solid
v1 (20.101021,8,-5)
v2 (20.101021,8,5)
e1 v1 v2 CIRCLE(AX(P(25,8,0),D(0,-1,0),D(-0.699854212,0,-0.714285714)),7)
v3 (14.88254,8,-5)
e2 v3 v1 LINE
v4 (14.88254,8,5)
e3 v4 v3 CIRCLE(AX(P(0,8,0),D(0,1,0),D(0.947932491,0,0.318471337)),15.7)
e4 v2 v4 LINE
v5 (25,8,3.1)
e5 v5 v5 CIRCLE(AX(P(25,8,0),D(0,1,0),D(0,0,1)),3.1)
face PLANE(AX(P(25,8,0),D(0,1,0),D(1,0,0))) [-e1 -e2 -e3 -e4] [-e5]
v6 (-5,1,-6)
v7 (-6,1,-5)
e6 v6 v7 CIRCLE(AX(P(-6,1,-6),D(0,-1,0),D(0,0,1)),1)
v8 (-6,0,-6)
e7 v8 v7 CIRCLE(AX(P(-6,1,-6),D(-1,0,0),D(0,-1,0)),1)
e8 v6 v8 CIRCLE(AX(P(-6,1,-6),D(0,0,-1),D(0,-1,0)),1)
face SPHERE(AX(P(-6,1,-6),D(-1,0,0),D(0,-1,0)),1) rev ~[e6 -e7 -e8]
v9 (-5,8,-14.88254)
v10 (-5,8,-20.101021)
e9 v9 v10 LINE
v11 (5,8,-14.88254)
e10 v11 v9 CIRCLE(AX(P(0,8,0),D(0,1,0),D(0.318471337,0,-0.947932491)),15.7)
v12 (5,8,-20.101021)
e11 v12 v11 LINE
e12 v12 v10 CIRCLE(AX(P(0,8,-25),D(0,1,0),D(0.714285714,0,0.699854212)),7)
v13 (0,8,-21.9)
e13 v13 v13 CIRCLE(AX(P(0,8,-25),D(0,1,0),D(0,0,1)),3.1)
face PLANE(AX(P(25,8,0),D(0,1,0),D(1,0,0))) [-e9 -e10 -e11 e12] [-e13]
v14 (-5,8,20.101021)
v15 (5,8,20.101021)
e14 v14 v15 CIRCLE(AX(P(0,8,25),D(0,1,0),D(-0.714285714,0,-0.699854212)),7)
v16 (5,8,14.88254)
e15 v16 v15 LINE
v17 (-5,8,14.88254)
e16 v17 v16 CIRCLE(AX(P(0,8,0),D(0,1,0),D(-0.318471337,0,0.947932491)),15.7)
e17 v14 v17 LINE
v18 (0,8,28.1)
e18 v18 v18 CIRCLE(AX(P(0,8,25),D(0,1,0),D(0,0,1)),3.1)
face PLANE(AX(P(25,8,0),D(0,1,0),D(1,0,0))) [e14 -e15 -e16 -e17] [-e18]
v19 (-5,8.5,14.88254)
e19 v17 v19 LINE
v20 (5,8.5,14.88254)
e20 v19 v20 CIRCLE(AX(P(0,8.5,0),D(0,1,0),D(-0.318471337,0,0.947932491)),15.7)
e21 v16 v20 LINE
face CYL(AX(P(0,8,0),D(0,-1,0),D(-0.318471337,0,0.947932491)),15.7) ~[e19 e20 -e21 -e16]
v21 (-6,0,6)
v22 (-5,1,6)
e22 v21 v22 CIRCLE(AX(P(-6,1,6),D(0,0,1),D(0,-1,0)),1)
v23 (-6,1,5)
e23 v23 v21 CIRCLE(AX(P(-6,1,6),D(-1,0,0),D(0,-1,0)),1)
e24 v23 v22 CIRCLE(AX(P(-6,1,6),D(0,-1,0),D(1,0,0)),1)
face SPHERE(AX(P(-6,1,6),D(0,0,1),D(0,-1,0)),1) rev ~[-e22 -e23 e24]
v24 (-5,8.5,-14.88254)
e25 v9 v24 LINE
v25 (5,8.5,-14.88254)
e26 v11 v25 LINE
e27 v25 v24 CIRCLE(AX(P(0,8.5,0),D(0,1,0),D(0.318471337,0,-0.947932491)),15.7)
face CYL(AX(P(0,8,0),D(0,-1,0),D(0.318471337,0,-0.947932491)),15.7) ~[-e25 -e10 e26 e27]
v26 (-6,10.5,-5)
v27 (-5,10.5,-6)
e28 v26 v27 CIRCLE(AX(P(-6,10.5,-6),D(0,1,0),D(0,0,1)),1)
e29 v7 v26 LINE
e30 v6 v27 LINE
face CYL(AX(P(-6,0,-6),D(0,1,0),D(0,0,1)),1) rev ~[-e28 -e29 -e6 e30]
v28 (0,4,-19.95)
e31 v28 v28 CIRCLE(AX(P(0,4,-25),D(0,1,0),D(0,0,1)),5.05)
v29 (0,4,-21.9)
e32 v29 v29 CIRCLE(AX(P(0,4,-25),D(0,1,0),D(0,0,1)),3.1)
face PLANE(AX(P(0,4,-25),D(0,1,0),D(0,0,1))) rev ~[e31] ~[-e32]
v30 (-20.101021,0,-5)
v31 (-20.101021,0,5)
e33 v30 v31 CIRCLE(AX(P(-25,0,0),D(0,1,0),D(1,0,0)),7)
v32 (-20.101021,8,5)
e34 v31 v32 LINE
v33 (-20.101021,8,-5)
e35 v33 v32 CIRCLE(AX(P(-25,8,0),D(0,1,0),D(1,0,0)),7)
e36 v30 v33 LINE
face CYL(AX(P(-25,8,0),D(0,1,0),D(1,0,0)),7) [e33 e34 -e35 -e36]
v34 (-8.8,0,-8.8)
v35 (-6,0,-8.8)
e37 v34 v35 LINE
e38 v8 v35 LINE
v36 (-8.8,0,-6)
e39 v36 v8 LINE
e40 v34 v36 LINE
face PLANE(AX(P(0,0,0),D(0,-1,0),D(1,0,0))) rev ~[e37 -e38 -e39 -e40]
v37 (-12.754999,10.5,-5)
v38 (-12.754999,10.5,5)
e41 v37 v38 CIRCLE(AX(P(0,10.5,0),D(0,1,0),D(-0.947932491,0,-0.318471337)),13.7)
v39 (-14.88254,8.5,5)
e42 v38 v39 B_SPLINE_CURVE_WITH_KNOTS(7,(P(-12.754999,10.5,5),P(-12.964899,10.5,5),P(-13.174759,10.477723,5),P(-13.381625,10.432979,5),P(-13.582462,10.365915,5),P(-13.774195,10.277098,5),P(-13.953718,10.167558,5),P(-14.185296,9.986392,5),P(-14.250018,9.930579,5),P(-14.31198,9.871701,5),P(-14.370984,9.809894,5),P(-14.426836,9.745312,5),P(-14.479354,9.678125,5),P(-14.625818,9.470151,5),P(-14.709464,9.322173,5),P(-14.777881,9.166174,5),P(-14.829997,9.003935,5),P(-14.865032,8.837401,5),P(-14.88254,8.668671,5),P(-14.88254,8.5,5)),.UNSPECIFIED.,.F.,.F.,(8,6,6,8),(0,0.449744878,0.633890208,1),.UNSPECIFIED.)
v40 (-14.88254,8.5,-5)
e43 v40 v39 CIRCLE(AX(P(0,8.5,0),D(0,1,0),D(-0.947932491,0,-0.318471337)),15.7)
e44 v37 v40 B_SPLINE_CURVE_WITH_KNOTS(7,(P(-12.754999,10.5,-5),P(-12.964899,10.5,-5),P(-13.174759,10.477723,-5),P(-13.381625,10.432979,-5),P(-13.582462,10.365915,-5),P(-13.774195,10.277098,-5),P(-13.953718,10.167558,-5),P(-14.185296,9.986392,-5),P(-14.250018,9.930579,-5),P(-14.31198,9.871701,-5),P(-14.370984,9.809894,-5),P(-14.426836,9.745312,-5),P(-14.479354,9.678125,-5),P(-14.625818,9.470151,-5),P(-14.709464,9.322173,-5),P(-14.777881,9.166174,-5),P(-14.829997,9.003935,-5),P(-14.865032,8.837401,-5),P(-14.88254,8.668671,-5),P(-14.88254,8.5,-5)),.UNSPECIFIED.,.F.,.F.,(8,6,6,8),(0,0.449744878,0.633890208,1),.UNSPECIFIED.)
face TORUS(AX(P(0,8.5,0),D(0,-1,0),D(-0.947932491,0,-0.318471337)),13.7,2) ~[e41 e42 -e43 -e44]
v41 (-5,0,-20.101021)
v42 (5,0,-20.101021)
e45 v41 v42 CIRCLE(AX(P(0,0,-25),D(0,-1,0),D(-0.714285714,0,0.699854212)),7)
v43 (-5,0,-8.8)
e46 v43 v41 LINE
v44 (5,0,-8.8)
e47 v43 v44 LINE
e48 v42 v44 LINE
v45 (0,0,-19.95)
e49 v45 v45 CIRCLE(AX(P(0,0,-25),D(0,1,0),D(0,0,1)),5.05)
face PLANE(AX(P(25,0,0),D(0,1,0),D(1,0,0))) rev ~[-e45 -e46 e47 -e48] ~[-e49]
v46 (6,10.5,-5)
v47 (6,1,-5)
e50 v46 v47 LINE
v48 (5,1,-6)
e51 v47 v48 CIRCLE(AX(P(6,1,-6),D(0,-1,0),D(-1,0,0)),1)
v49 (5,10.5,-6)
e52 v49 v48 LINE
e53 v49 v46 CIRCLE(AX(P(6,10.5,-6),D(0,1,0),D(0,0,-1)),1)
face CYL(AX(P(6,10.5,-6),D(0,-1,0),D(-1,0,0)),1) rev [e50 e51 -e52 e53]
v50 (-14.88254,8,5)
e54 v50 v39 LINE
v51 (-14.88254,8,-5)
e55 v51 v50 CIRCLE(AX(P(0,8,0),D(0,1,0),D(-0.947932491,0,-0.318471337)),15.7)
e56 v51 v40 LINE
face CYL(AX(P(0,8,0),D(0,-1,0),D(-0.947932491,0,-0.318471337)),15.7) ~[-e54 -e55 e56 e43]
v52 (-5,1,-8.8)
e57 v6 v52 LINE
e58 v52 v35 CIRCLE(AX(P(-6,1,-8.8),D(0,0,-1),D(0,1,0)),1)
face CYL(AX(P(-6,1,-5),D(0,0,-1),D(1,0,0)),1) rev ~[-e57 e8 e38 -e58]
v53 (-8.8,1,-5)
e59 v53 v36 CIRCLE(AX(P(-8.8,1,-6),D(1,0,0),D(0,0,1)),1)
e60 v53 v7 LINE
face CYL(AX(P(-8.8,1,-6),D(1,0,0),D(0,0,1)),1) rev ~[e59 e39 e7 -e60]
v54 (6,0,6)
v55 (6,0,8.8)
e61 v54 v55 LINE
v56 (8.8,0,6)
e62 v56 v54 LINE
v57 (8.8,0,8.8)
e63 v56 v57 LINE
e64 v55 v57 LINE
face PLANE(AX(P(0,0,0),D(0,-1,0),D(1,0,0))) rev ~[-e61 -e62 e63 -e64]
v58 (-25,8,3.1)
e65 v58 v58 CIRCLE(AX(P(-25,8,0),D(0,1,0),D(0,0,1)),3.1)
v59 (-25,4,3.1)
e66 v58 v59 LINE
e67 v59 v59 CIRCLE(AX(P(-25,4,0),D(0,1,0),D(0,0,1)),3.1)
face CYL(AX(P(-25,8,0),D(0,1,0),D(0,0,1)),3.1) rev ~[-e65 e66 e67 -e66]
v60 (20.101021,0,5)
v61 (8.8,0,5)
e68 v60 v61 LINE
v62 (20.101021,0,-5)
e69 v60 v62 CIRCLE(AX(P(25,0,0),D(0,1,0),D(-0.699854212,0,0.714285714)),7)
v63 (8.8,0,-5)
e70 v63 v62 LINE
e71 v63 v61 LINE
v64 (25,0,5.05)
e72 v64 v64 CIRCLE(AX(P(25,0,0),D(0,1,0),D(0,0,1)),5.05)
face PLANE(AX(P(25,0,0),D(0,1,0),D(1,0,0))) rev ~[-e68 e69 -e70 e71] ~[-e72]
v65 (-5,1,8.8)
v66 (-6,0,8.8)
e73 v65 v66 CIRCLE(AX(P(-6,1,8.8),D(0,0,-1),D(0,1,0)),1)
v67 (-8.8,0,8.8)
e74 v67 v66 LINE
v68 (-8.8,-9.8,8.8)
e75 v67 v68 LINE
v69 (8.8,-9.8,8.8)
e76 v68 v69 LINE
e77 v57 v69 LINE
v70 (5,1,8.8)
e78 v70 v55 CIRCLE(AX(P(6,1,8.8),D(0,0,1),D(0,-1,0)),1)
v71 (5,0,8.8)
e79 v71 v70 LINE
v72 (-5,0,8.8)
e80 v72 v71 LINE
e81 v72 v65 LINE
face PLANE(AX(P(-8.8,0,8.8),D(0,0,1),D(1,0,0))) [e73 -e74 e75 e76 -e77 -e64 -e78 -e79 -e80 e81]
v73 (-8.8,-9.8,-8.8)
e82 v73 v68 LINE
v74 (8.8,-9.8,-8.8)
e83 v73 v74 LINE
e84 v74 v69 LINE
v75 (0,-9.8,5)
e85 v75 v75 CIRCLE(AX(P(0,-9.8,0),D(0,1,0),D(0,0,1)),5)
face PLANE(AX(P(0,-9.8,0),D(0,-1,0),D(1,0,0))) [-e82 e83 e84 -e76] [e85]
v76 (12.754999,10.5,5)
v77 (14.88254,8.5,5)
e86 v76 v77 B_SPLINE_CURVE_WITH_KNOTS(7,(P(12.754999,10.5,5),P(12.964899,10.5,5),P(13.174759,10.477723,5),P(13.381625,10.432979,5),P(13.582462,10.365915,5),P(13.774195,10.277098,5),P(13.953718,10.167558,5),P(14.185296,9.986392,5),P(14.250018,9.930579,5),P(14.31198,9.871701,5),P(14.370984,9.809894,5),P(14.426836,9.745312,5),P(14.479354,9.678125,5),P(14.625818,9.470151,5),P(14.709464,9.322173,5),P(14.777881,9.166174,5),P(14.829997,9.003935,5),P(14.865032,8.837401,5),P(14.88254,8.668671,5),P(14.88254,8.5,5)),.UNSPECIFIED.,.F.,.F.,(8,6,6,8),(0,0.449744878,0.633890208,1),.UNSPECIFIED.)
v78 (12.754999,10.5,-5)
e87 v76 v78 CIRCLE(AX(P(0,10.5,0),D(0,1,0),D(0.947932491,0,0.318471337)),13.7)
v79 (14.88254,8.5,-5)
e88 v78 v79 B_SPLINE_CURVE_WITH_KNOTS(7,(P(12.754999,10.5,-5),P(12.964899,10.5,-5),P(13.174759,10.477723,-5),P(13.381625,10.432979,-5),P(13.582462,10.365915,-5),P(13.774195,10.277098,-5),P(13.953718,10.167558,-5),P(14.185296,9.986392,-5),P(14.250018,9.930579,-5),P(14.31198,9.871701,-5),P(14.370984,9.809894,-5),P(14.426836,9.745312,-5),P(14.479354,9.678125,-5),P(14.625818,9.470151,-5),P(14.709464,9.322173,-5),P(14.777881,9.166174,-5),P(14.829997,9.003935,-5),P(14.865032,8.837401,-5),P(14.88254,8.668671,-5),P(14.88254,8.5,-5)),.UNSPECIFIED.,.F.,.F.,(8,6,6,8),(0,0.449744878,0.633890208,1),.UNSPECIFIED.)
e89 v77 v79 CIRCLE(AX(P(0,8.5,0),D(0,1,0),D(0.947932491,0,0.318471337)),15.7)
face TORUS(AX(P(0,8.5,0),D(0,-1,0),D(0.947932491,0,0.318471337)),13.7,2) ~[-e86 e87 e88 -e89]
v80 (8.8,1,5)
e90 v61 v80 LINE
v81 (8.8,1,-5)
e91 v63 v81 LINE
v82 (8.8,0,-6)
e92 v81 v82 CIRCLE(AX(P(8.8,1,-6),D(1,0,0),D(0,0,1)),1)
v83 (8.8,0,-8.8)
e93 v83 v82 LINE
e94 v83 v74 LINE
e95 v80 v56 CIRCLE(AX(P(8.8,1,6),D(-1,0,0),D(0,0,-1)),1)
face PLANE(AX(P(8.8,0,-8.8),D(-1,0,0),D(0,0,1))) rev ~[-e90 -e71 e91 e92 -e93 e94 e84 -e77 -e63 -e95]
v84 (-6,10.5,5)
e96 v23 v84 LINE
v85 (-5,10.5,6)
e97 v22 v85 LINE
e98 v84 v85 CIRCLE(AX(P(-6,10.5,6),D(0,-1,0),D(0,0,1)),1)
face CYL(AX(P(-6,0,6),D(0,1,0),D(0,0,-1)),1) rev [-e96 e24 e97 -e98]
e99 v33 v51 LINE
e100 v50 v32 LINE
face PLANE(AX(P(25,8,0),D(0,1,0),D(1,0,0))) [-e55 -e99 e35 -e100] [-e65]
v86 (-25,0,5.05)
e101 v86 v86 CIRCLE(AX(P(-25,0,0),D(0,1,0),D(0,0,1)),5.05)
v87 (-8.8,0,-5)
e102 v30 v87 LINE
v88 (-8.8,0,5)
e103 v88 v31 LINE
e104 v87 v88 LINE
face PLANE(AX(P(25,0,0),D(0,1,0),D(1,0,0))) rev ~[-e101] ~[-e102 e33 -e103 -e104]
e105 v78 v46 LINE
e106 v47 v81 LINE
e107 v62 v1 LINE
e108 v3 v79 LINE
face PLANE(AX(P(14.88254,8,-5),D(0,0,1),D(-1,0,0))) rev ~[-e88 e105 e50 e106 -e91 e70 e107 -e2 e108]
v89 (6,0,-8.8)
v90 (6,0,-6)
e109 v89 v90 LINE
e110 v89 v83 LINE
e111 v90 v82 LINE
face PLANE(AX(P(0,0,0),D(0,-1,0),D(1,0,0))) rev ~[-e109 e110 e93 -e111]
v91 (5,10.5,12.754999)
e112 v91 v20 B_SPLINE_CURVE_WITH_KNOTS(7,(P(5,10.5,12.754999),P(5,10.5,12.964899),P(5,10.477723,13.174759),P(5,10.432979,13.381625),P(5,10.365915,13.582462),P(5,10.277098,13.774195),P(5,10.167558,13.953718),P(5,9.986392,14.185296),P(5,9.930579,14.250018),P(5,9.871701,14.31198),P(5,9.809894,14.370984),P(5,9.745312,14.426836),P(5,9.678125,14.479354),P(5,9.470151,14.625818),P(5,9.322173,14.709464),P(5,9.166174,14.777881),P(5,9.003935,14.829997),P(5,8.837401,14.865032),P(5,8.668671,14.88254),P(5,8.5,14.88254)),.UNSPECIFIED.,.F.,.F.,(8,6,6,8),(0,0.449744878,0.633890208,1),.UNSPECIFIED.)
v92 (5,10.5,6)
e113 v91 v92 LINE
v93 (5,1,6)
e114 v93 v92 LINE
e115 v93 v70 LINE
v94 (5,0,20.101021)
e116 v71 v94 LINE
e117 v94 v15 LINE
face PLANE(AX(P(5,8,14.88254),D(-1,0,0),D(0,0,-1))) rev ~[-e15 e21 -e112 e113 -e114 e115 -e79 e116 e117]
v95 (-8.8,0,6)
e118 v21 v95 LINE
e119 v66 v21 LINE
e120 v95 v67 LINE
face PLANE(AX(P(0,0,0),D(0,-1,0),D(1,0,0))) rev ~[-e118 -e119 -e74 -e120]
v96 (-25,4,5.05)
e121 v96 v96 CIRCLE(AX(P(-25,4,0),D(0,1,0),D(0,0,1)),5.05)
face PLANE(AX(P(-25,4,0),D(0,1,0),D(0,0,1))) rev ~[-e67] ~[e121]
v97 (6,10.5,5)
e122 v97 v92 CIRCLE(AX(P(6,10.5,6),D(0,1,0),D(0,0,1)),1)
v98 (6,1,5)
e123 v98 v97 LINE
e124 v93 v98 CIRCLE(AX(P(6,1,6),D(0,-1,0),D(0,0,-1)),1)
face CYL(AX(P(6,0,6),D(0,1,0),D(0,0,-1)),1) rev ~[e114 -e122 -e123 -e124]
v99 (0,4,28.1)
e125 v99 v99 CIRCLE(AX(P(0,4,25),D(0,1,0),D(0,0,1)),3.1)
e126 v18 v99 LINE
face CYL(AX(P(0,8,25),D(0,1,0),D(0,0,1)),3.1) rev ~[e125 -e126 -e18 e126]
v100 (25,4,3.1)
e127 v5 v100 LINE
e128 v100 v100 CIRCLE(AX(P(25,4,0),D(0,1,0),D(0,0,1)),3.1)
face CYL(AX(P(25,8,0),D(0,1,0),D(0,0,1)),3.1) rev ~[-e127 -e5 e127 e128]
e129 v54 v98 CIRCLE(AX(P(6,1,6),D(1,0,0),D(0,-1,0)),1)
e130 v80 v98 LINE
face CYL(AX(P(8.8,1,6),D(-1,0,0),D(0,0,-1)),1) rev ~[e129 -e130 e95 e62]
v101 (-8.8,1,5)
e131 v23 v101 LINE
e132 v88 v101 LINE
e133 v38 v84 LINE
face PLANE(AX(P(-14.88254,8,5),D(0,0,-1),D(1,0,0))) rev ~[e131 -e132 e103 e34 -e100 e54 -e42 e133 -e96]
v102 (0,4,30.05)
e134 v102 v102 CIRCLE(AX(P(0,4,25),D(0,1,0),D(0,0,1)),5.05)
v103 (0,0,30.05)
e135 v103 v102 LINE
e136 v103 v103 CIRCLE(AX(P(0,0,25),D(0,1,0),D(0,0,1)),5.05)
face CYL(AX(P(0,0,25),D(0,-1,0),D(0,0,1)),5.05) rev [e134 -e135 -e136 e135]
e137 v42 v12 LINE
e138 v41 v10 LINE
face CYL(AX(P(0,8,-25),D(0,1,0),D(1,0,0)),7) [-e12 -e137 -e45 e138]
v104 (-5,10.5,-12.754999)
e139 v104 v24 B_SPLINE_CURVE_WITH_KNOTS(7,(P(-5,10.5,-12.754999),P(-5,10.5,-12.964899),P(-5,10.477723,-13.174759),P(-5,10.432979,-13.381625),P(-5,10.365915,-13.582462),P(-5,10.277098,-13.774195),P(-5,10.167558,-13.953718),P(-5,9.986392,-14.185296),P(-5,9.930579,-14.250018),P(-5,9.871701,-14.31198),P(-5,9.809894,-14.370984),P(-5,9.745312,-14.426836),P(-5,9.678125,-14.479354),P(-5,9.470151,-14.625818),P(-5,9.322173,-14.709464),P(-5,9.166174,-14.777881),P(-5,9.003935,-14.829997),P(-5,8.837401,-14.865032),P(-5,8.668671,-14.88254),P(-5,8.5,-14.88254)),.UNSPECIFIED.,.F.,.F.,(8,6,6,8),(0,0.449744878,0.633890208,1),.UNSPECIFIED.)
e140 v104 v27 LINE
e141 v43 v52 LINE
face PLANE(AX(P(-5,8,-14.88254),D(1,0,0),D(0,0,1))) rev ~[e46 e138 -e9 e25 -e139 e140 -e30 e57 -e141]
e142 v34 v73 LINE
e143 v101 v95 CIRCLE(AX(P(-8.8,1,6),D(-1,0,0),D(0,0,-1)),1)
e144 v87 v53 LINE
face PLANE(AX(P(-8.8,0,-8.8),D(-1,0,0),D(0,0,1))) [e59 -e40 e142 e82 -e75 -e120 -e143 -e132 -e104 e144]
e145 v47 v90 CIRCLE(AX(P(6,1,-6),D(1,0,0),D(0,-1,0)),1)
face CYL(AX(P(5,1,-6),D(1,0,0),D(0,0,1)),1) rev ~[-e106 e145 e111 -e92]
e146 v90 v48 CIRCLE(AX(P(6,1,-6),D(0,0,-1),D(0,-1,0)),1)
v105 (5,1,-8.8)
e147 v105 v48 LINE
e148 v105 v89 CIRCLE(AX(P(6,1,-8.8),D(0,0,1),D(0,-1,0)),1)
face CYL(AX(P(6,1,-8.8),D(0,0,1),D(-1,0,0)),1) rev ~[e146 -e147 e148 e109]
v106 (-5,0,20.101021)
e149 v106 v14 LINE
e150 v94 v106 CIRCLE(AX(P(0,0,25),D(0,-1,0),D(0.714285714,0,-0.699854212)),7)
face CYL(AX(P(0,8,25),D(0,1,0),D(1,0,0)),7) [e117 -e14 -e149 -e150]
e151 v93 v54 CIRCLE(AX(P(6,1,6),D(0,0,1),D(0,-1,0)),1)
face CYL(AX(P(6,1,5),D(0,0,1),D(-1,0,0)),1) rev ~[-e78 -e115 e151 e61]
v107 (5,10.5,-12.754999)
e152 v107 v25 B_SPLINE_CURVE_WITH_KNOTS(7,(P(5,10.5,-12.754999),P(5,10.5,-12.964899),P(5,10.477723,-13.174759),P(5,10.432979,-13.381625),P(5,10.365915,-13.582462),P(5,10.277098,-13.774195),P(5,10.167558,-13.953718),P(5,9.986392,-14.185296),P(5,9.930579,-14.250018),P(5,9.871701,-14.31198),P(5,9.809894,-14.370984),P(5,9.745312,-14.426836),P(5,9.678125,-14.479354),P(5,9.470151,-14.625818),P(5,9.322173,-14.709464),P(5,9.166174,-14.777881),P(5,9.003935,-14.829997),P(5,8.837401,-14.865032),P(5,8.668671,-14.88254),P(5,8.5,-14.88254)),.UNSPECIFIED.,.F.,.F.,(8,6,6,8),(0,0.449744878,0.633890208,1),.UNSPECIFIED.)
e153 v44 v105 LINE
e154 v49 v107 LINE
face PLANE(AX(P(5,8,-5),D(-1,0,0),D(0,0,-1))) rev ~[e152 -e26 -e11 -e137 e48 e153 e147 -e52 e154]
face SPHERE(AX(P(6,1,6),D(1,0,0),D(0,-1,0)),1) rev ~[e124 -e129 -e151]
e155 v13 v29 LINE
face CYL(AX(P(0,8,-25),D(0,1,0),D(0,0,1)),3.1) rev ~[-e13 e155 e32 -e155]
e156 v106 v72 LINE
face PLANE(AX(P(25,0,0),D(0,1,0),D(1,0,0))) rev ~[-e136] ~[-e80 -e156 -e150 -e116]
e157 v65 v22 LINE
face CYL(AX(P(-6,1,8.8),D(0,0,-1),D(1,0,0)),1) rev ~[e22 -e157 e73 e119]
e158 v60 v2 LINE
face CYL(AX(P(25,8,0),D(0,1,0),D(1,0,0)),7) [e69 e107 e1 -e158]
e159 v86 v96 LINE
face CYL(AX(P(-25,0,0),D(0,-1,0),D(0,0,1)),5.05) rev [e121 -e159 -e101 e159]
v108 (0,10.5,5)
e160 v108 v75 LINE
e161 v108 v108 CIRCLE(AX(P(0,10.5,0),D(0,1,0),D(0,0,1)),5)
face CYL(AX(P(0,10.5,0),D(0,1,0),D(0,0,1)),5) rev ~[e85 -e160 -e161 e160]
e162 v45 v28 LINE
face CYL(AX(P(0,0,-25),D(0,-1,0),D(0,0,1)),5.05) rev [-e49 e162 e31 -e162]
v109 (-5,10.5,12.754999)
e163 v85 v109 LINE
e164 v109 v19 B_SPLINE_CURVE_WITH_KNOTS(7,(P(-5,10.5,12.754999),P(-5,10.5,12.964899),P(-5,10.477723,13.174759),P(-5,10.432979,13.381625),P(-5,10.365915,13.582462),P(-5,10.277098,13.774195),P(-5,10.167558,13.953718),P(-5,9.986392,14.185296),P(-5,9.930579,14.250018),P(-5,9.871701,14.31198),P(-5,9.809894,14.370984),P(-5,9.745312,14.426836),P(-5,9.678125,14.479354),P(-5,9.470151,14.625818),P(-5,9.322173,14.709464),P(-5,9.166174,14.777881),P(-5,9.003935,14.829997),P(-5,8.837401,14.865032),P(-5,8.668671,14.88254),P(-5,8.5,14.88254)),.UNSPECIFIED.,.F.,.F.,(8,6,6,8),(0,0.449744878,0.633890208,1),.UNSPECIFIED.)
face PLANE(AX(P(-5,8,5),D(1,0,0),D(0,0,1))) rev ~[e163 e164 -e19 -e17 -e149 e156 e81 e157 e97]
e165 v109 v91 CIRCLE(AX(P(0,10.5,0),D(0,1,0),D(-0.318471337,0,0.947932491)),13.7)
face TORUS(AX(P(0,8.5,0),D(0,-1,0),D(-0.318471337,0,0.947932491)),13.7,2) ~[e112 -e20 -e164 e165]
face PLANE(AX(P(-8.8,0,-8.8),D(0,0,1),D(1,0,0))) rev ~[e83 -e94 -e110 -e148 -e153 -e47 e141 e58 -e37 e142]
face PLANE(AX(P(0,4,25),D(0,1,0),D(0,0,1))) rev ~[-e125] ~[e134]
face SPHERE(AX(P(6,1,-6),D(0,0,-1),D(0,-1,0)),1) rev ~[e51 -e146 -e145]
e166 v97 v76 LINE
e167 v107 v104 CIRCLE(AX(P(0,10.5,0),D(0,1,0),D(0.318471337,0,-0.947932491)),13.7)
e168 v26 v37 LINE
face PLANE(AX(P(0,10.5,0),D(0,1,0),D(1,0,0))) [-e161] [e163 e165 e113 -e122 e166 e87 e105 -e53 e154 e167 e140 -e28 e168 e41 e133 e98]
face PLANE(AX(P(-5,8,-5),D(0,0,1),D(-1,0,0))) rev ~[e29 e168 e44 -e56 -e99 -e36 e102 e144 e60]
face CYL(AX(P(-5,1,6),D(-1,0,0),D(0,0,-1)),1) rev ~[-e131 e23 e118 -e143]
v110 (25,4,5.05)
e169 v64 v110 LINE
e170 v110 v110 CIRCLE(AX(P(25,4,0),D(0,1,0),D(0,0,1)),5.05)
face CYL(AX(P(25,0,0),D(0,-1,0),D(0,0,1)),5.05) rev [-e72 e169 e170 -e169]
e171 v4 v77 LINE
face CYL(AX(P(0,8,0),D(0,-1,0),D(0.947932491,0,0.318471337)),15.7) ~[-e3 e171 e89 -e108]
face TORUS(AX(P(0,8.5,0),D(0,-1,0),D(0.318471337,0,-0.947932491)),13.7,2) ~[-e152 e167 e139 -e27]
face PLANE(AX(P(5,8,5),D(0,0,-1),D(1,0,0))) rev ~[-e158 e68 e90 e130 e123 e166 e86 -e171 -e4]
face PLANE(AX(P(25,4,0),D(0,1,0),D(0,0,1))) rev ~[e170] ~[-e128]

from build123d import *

# Parameters (mm, degrees)
BOSS_EXTRUDE1_DEPTH = 8
SKETCH2_R           = 7
BOSS_EXTRUDE2_DEPTH = 8
SKETCH3_R           = 3.1
CUT_EXTRUDE1_DEPTH  = 8
SKETCH4_R           = 5.05
CUT_EXTRUDE4_DEPTH  = 4
BOSS_EXTRUDE3_DEPTH = 2.5
SKETCH6_W           = 17.6
SKETCH6_H           = 17.6
BOSS_EXTRUDE4_DEPTH = 9.8
SKETCH7_R           = 5
CUT_EXTRUDE5_DEPTH  = 20.3
FILLET1_R           = 2
FILLET3_R           = 1


with BuildPart() as part:
    # Sketch1 → Boss-Extrude1 (new body)
    with BuildSketch(Plane(origin=(0, 0, 0), x_dir=(1, 0, 0), z_dir=(0, 1, 0))):
        Polygon((-5, 5), (-5, 25), (5, 25), (5, 5), (25, 5), (25, -5), (5, -5), (5, -25), (-5, -25), (-5, -5), (-25, -5), (-25, 5), align=None)
    extrude(amount=BOSS_EXTRUDE1_DEPTH)

    # Sketch2 → Boss-Extrude2 (add)
    with BuildSketch(Plane(origin=(0, 8, 0), x_dir=(1, 0, 0), z_dir=(0, 1, 0))):
        with Locations((25, 0)):
            Circle(SKETCH2_R)
        with Locations((0, -25)):
            Circle(SKETCH2_R)
        with Locations((-25, 0)):
            Circle(SKETCH2_R)
        with Locations((0, 25)):
            Circle(SKETCH2_R)
    extrude(amount=-BOSS_EXTRUDE2_DEPTH)

    # Sketch3 → Cut-Extrude1 (cut)
    with BuildSketch(Plane(origin=(0, 8, 0), x_dir=(1, 0, 0), z_dir=(0, 1, 0))):
        with Locations(Location((25, 0, 0), (0, 0, 270))):
            Circle(SKETCH3_R)
        with Locations(Location((0, -25, 0), (0, 0, 270))):
            Circle(SKETCH3_R)
        with Locations(Location((-25, 0, 0), (0, 0, 270))):
            Circle(SKETCH3_R)
        with Locations(Location((0, 25, 0), (0, 0, 270))):
            Circle(SKETCH3_R)
    extrude(amount=-CUT_EXTRUDE1_DEPTH, mode=Mode.SUBTRACT)

    # Sketch4 → Cut-Extrude4 (cut)
    with BuildSketch(Plane(origin=(0, 0, 0), x_dir=(1, 0, 0), z_dir=(0, 1, 0))):
        with Locations(Location((25, 0, 0), (0, 0, 270))):
            Circle(SKETCH4_R)
        with Locations(Location((0, -25, 0), (0, 0, 270))):
            Circle(SKETCH4_R)
        with Locations(Location((-25, 0, 0), (0, 0, 270))):
            Circle(SKETCH4_R)
        with Locations(Location((0, 25, 0), (0, 0, 270))):
            Circle(SKETCH4_R)
    extrude(amount=CUT_EXTRUDE4_DEPTH, mode=Mode.SUBTRACT)

    # Sketch5 → Boss-Extrude3 (add)
    with BuildSketch(Plane(origin=(0, 8, 0), x_dir=(1, 0, 0), z_dir=(0, 1, 0))):
        with BuildLine():
            Line((5, 5), (5, 14.882540106))
            ThreePointArc((5, 14.882540106), (0, 15.7), (-5, 14.882540106))
            Line((-5, 14.882540106), (-5, 5))
            Line((-5, 5), (-14.882540106, 5))
            ThreePointArc((-14.882540106, 5), (-15.7, 0), (-14.882540106, -5))
            Line((-14.882540106, -5), (-5, -5))
            Line((-5, -5), (-5, -14.882540106))
            ThreePointArc((-5, -14.882540106), (0, -15.7), (5, -14.882540106))
            Line((5, -14.882540106), (5, -5))
            Line((5, -5), (14.882540106, -5))
            ThreePointArc((14.882540106, -5), (15.7, 0), (14.882540106, 5))
            Line((14.882540106, 5), (5, 5))
        make_face()
    extrude(amount=BOSS_EXTRUDE3_DEPTH)

    # Sketch6 → Boss-Extrude4 (add)
    with BuildSketch(Plane.XZ):
        Rectangle(SKETCH6_W, SKETCH6_H)
    extrude(amount=BOSS_EXTRUDE4_DEPTH)

    # Sketch7 → Cut-Extrude5 (cut)
    with BuildSketch(Plane(origin=(0, 10.5, 0), x_dir=(1, 0, 0), z_dir=(0, 1, 0))):
        with Locations(Location((0, 0, 0), (0, 0, 270))):
            Circle(SKETCH7_R)
    extrude(amount=-CUT_EXTRUDE5_DEPTH, mode=Mode.SUBTRACT)

    # Fillet1
    fillet1_edges = [part.edges().sort_by_distance(p)[0] for p in [
        (0, 10.5, -15.7),
        (-15.7, 10.5, 0),
        (0, 10.5, 15.7),
        (15.7, 10.5, 0),
    ]]
    fillet(fillet1_edges, radius=FILLET1_R)

    # Fillet3
    fillet3_edges = [part.edges().sort_by_distance(p)[0] for p in [
        (6.9, 0, 5),
        (-5, 0, 6.9),
        (-6.9, 0, -5),
        (5, 0, -6.9),
        (-5, 0, -6.9),
        (6.9, 0, -5),
        (5, 0, 6.9),
        (-6.9, 0, 5),
        (5, 5.25, 5),
        (-5, 5.25, 5),
        (-5, 5.25, -5),
        (5, 5.25, -5),
    ]]
    fillet(fillet3_edges, radius=FILLET3_R)


solid = part.part
